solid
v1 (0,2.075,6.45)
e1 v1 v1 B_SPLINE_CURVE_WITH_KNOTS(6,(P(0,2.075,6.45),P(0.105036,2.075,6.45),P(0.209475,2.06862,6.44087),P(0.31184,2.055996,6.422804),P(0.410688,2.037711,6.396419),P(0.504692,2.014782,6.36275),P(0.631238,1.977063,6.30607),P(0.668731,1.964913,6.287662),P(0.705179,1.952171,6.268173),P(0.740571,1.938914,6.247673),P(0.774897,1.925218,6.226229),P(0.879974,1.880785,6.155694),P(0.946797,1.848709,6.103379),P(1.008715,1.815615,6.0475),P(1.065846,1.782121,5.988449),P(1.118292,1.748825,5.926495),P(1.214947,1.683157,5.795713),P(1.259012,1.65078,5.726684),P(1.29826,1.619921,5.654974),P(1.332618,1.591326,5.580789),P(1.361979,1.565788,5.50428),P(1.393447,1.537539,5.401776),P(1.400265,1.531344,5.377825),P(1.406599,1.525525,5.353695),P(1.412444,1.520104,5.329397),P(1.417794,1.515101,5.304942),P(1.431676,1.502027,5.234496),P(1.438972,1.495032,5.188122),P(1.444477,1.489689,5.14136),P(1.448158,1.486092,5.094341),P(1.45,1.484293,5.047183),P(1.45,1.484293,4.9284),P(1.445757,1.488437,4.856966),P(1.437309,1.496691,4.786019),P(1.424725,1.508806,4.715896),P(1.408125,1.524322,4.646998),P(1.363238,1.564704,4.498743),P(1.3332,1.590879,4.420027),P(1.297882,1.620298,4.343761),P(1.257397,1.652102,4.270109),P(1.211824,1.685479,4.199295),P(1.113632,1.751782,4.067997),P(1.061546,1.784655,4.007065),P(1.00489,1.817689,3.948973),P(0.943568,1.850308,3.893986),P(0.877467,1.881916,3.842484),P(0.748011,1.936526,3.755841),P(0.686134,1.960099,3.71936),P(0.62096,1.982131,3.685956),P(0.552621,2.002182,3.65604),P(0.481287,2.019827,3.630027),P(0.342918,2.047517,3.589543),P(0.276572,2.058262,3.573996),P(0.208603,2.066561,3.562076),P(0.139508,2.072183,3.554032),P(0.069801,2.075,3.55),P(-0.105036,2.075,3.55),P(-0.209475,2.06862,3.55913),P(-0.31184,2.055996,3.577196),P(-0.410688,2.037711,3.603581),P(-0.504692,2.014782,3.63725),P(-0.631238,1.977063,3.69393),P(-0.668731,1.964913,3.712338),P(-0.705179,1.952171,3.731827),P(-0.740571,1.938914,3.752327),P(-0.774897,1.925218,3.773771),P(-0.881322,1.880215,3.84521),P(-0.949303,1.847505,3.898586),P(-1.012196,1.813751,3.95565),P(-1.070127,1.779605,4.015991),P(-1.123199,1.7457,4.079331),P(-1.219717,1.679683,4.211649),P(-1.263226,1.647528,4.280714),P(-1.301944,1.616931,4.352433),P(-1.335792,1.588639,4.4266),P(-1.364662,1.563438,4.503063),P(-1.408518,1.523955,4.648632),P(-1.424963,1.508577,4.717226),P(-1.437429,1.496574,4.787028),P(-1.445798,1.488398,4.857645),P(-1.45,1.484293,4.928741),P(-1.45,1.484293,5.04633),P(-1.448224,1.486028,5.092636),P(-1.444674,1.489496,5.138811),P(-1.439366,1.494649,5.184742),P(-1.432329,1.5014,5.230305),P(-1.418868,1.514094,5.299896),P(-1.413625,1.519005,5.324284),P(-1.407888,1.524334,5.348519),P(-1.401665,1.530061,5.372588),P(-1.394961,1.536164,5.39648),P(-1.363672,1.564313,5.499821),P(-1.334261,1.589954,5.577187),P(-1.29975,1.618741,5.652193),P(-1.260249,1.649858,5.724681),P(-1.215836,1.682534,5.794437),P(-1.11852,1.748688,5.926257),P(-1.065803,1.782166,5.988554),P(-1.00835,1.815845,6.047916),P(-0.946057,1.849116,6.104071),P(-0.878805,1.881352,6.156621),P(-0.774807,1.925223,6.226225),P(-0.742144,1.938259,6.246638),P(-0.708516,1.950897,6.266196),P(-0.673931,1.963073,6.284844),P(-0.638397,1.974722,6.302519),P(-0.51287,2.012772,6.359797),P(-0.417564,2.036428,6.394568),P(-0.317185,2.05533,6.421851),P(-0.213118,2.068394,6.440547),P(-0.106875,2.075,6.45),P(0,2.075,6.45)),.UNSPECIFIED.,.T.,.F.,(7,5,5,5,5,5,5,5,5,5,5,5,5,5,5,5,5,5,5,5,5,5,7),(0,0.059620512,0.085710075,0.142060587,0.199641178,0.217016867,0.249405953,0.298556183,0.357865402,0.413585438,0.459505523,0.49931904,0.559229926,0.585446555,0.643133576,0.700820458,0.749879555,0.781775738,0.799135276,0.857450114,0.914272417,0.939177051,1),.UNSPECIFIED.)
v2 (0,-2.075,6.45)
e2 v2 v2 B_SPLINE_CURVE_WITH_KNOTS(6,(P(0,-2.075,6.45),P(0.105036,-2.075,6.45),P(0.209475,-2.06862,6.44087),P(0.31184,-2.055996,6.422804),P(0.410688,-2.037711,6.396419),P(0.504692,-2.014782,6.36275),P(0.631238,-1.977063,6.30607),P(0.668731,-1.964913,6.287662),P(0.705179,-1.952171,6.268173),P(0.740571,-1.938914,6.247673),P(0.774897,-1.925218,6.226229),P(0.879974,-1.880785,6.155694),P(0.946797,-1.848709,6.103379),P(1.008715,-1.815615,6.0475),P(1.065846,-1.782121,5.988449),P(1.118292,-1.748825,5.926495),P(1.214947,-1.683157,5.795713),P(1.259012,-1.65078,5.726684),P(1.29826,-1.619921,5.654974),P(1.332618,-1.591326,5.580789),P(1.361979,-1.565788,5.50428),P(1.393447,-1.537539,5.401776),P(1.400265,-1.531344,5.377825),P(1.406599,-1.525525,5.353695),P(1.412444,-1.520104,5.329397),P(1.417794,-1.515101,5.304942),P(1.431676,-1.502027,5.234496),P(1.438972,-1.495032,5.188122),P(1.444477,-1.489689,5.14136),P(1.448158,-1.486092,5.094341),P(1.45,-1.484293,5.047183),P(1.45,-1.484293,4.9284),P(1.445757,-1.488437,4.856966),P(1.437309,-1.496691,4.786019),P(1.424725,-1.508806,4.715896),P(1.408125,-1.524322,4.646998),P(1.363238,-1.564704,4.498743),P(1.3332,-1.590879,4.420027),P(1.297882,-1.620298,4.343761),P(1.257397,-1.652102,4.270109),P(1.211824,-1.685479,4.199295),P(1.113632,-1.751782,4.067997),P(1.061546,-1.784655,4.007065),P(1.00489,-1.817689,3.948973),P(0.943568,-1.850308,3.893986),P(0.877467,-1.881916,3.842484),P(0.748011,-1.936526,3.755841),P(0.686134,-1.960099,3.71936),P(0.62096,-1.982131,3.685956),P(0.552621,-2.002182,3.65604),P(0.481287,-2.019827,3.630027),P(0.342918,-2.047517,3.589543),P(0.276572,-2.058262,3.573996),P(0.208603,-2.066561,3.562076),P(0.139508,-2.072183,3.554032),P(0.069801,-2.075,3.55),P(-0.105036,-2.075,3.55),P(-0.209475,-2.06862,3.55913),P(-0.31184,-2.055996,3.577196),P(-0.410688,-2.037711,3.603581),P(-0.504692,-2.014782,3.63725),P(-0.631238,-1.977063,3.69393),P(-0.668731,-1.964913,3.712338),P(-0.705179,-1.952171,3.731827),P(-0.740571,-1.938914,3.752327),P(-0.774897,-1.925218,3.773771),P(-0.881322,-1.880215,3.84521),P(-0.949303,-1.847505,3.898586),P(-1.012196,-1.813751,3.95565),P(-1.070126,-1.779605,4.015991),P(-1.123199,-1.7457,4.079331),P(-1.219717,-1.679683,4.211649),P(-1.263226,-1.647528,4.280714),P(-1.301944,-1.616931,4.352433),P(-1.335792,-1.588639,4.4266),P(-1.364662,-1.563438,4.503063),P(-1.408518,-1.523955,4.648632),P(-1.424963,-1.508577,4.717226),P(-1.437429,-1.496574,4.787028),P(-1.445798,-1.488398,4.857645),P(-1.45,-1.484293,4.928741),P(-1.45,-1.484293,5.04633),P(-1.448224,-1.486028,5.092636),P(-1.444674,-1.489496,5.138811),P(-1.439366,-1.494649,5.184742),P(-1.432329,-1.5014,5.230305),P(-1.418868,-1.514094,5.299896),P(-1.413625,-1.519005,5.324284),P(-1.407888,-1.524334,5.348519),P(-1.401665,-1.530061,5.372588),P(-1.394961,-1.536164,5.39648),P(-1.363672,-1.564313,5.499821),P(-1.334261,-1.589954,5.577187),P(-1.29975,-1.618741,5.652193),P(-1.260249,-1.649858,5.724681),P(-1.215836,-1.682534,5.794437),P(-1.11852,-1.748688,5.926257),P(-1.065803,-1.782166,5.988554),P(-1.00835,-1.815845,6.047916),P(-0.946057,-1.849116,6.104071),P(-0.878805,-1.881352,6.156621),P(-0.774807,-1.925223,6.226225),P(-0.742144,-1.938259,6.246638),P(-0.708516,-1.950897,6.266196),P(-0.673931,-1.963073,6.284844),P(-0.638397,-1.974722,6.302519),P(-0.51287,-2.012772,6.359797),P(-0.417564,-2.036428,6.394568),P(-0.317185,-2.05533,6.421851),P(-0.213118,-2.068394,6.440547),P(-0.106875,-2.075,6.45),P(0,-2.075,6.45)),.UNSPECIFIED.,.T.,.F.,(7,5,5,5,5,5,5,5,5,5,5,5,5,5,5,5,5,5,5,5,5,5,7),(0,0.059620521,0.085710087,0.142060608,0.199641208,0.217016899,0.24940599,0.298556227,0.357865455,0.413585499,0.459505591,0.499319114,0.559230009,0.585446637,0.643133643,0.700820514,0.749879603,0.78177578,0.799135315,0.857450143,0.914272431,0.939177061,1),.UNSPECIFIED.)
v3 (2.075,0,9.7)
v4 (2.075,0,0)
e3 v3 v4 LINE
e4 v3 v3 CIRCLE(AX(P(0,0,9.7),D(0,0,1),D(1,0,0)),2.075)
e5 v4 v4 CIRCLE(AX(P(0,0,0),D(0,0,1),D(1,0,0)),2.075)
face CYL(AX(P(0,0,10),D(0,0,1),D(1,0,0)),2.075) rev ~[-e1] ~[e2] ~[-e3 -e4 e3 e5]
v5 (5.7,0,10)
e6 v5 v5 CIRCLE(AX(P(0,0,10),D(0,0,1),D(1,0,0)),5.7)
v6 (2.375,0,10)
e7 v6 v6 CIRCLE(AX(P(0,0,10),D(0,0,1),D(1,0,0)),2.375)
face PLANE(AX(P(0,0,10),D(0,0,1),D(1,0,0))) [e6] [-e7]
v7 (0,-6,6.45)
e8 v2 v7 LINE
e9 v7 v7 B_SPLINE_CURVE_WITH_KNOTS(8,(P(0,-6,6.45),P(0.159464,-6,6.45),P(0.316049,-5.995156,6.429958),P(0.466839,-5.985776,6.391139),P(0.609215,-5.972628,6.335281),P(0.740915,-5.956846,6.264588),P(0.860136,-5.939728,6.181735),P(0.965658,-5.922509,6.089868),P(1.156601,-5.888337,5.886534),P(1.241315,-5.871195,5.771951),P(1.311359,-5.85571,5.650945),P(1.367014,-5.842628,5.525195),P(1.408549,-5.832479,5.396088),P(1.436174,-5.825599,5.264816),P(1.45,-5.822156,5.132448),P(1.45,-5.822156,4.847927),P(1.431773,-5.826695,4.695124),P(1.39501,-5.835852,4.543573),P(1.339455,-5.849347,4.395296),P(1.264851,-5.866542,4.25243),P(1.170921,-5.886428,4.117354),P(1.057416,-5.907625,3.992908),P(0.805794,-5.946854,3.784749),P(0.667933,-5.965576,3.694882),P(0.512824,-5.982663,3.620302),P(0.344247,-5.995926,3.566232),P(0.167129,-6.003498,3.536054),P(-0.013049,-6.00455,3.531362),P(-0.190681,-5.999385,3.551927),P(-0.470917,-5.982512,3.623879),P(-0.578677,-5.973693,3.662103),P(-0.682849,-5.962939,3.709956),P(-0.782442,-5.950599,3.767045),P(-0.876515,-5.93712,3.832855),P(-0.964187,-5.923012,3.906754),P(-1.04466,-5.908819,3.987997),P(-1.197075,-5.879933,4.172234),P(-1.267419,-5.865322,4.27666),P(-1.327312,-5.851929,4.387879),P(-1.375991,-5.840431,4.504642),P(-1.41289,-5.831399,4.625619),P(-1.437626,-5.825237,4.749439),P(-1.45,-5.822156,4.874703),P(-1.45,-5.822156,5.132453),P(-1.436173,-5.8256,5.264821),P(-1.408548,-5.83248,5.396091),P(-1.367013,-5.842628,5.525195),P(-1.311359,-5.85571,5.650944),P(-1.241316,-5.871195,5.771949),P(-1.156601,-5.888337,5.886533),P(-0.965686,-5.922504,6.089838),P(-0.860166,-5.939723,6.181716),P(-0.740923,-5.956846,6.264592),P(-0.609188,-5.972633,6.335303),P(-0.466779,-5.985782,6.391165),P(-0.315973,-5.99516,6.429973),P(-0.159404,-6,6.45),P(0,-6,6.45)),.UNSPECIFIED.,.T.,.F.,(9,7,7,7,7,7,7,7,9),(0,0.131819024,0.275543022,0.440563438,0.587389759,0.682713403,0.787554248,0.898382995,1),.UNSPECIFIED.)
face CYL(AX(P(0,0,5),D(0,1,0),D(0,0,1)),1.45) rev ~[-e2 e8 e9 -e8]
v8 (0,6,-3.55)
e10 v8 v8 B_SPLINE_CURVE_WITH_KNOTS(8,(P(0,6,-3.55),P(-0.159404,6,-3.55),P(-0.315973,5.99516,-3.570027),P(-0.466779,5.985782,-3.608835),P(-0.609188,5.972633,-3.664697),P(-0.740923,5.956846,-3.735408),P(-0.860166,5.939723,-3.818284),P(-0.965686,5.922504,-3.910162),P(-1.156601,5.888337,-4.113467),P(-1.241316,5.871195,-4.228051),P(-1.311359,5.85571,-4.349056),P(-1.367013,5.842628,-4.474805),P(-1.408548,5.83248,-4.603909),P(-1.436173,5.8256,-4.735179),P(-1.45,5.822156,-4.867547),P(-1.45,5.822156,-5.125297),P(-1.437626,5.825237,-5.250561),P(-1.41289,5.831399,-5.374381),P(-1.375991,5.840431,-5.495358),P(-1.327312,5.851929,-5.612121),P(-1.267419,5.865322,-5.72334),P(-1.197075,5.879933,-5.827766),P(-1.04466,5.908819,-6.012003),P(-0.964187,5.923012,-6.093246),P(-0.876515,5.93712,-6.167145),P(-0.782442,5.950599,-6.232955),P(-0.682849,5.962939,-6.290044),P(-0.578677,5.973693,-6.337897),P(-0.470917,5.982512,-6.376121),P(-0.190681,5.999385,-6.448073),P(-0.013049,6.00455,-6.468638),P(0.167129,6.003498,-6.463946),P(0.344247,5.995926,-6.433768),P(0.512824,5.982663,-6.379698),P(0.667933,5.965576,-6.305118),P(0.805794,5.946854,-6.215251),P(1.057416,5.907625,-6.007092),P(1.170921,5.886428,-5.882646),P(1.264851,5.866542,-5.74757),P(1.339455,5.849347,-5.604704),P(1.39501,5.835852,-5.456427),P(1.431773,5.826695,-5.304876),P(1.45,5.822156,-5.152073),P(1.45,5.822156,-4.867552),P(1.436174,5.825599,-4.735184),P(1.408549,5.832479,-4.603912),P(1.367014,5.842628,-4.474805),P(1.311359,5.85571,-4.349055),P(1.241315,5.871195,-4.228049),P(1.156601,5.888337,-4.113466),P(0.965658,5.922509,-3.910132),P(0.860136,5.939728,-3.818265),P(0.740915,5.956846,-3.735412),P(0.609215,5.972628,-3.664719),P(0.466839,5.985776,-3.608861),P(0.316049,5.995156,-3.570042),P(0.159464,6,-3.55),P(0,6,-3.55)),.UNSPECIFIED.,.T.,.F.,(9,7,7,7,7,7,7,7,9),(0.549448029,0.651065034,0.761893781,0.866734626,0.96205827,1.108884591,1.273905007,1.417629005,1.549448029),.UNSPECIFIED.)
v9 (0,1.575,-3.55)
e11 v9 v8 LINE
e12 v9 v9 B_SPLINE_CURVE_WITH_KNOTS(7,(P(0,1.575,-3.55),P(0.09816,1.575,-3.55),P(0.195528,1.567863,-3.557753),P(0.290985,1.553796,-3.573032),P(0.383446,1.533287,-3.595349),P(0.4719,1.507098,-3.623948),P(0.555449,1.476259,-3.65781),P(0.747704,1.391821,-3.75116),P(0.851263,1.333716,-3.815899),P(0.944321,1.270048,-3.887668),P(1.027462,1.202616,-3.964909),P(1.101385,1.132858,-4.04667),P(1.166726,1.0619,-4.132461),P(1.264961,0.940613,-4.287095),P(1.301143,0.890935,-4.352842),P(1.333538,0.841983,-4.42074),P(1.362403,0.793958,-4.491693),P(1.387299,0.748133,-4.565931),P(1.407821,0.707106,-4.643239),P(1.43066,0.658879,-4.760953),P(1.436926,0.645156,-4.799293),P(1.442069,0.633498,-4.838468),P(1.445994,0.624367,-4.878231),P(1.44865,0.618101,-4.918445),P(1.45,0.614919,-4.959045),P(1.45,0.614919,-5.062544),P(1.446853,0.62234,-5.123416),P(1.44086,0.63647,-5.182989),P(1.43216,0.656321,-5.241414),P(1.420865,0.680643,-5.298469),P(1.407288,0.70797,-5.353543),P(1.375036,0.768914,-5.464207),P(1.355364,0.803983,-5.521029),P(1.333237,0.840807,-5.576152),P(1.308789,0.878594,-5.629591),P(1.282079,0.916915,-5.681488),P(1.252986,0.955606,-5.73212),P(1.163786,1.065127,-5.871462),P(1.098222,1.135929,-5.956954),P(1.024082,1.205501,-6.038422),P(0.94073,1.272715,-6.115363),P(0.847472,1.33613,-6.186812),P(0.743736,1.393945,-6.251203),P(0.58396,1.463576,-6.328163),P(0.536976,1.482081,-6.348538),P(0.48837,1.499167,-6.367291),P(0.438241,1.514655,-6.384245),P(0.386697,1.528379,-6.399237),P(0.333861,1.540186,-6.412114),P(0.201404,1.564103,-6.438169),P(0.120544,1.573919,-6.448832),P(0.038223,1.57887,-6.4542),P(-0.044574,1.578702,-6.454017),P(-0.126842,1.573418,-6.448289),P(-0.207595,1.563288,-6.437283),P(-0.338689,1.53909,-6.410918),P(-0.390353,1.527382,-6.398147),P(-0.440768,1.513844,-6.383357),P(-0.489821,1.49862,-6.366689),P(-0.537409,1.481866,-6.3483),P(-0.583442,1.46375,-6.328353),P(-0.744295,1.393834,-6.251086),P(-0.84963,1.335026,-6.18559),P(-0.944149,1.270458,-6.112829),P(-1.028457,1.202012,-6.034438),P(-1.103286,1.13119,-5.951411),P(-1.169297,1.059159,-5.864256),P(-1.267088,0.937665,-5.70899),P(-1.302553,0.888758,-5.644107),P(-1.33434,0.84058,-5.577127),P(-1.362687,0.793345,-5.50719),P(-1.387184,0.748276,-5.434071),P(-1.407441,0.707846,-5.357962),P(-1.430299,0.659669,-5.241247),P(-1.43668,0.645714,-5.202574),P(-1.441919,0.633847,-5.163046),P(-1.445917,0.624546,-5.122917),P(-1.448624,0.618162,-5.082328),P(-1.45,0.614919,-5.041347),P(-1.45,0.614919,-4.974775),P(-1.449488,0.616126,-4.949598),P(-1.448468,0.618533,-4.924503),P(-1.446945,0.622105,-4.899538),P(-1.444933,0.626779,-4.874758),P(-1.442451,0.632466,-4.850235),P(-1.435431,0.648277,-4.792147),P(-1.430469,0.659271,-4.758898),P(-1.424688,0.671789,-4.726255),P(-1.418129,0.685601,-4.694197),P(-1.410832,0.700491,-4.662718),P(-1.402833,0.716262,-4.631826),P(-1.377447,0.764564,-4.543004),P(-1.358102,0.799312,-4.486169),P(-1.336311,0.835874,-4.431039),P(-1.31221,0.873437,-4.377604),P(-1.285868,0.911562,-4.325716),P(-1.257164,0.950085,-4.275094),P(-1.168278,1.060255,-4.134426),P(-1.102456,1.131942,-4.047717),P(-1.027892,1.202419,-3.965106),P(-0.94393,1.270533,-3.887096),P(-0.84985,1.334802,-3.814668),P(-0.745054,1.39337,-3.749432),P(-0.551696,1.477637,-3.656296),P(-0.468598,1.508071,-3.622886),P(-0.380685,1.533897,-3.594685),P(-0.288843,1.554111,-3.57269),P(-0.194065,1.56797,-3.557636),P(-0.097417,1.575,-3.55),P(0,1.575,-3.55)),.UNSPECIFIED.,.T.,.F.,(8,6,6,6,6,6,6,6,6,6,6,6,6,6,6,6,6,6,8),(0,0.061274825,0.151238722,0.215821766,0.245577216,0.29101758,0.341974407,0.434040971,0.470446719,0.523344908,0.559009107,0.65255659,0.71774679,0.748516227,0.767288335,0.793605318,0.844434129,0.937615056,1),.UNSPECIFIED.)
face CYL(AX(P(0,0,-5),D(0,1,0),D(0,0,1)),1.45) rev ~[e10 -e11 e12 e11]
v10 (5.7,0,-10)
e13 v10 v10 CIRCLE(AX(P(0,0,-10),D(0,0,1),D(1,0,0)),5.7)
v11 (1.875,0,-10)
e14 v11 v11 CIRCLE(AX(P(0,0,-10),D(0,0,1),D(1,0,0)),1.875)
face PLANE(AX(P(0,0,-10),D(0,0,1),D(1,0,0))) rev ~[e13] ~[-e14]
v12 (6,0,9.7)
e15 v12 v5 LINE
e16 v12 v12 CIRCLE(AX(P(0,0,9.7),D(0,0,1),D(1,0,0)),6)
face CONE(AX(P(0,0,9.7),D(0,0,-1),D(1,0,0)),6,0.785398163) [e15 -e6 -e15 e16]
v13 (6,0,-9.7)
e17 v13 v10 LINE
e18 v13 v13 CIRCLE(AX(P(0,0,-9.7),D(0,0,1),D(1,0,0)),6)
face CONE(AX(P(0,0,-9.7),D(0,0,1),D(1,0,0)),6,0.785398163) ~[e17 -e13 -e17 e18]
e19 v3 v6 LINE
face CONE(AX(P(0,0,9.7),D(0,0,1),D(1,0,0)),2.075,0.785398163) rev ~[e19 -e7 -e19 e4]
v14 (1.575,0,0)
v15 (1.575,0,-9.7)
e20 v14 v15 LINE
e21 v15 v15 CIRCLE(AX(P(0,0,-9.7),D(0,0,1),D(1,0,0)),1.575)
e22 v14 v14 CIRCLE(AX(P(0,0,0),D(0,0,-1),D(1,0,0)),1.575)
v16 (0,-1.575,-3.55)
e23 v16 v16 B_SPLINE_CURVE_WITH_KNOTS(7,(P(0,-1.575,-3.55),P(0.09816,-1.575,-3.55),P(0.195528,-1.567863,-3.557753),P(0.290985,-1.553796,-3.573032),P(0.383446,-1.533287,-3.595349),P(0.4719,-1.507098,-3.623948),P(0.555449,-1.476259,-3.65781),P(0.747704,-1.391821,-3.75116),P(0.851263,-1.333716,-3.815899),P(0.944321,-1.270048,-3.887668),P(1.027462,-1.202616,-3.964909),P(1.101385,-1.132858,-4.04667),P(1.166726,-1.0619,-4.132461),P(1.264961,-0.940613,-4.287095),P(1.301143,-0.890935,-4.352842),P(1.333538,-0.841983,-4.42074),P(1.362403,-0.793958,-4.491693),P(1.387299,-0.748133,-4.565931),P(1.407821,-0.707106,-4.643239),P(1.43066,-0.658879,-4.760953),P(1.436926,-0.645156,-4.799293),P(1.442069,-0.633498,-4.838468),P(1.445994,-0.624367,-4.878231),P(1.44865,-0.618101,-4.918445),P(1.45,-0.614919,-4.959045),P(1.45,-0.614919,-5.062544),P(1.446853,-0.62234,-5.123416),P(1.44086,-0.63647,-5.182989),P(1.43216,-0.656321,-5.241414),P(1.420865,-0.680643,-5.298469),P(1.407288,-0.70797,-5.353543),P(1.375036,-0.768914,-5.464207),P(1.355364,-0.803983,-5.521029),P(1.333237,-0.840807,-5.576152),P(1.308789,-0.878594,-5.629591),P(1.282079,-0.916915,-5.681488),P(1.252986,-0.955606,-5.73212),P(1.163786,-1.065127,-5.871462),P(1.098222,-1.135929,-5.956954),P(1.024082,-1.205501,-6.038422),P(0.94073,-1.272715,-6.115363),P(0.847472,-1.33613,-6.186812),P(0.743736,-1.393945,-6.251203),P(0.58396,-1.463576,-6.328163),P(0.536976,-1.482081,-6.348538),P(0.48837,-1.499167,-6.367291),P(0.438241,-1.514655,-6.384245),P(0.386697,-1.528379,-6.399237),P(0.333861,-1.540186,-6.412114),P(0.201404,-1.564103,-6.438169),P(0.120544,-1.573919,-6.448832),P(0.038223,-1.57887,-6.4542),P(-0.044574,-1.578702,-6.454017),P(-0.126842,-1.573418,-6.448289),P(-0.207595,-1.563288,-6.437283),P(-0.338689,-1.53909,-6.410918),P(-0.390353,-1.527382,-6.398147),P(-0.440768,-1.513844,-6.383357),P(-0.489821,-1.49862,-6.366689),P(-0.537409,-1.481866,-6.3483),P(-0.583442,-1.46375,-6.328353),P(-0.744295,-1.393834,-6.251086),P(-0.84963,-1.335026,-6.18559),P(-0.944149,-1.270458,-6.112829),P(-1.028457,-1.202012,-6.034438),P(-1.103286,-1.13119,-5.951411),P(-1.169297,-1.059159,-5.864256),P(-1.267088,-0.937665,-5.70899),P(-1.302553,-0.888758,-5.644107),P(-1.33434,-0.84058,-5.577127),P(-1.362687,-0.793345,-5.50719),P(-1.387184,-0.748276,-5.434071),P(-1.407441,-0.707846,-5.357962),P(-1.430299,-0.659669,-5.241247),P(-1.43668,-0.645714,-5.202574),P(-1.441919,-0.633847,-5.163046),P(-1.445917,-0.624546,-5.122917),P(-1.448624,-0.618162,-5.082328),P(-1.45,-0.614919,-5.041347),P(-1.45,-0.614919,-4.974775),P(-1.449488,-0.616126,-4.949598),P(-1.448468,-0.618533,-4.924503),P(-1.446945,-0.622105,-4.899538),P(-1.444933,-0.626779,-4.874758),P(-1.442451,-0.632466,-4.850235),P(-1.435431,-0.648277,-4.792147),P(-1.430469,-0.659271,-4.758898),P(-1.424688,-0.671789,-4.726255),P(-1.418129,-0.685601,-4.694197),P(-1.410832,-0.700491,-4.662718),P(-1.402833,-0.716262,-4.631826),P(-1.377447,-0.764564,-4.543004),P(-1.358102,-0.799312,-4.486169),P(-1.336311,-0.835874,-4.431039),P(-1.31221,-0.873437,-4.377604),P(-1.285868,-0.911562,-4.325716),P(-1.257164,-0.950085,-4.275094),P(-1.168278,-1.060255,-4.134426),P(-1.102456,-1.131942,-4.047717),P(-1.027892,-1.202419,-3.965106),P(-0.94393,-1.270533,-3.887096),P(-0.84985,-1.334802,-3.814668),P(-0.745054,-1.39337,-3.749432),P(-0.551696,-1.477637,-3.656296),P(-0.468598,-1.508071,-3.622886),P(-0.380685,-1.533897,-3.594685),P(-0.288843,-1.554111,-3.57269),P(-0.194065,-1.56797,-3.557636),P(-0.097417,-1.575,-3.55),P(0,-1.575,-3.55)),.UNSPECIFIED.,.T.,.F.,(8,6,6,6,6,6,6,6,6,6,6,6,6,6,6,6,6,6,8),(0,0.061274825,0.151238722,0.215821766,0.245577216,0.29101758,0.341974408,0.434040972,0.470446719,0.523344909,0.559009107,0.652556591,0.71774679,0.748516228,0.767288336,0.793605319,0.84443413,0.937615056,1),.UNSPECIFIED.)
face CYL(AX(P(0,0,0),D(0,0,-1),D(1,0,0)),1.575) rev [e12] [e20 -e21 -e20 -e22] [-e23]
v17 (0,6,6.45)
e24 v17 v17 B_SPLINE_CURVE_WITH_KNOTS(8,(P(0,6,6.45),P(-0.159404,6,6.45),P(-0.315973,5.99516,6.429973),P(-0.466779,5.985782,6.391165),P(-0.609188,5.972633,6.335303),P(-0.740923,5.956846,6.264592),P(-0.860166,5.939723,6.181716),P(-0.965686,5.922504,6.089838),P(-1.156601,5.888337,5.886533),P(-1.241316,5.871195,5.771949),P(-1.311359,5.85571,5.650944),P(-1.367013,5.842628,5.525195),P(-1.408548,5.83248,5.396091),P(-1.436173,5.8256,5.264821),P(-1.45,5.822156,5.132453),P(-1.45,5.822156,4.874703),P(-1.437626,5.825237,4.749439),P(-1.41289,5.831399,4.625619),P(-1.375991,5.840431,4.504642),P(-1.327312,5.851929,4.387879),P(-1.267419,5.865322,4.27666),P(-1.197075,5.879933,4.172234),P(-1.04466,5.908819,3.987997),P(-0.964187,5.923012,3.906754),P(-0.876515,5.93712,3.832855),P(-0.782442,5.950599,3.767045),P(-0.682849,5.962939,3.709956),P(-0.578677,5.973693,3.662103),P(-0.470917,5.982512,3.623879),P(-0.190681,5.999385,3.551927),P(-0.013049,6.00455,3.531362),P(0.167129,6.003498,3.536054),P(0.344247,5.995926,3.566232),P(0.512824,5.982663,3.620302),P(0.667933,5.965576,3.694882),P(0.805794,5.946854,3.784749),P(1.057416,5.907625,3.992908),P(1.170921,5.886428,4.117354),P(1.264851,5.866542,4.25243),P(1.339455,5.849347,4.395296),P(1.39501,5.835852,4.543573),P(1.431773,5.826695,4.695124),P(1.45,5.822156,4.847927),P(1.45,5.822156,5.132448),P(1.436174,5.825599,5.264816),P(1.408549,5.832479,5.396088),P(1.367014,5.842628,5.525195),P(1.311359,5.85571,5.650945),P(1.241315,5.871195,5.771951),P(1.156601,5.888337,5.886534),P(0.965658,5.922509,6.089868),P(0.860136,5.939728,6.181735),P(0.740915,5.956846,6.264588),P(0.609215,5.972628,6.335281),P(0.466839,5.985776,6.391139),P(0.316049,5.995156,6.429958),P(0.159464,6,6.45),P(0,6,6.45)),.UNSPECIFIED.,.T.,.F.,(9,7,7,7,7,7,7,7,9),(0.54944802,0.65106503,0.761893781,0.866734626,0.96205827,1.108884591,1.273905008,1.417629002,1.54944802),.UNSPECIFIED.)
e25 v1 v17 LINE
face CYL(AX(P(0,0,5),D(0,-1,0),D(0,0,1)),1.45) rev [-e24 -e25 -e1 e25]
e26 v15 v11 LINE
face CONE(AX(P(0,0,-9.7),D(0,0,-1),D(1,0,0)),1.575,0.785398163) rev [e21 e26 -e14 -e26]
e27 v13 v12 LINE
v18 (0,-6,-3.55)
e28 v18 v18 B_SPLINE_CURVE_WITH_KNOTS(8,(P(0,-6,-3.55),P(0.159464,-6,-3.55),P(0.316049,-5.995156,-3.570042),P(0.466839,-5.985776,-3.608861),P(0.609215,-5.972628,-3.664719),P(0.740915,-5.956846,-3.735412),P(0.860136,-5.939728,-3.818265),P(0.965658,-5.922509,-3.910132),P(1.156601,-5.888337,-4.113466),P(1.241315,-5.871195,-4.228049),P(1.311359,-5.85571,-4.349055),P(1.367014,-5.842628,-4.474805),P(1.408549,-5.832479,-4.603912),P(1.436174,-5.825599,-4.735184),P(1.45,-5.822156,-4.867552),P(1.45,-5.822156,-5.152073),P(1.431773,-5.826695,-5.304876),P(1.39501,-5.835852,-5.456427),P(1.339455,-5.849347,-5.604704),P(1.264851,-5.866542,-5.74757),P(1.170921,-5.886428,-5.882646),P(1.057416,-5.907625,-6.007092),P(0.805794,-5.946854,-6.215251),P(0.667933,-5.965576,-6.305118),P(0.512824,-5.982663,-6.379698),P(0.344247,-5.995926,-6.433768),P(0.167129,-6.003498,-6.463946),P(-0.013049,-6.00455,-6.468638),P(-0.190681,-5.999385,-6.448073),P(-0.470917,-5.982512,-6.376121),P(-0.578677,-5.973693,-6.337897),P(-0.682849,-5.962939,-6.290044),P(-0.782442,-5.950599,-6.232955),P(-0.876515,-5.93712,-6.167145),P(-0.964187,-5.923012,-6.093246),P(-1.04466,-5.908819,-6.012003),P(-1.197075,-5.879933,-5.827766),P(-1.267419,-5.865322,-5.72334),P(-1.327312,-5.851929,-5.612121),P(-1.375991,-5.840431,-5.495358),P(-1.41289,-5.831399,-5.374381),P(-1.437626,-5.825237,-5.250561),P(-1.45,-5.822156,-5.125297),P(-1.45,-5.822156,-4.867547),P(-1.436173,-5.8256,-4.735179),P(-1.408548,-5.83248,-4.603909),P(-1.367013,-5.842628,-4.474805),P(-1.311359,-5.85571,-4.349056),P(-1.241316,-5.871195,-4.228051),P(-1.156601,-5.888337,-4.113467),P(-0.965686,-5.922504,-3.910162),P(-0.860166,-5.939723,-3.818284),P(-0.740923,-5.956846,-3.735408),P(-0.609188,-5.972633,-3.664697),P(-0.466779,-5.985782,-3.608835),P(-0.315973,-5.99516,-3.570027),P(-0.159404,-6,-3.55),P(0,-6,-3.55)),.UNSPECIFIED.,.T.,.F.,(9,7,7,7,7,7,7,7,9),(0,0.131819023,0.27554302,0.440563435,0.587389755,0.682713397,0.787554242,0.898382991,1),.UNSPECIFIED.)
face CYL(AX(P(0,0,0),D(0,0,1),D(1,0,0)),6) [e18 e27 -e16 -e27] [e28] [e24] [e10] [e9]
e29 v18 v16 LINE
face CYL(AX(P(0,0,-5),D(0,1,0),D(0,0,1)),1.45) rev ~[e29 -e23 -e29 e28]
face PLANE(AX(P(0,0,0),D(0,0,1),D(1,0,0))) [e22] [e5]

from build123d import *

# Parameters (mm, degrees)
ESQUISSE1_R             = 6
ESQUISSE1_R_2           = 1.575
BOSS_EXTRU_1_DEPTH      = 10
ESQUISSE2_R             = 2.075
ENL_V_MAT_EXTRU_1_DEPTH = 10
ESQUISSE3_R             = 1.45
ENL_V_MAT_EXTRU_2_DEPTH = 6
CHANFREIN1_SIZE         = 0.3


with BuildPart() as part:
    # Esquisse1 → Boss.-Extru.1 (new body, symmetric)
    with BuildSketch(Plane.XY):
        Circle(ESQUISSE1_R)
        Circle(ESQUISSE1_R_2, mode=Mode.SUBTRACT)
    extrude(amount=BOSS_EXTRU_1_DEPTH, both=True)

    # Esquisse2 → Enlèv. mat.-Extru.1 (cut)
    with BuildSketch(Plane.XY.offset(10)):
        Circle(ESQUISSE2_R)
    extrude(amount=-ENL_V_MAT_EXTRU_1_DEPTH, mode=Mode.SUBTRACT)

    # Esquisse3 → Enlèv. mat.-Extru.2 (cut, symmetric)
    with BuildSketch(Plane(origin=(0, 0, 0), x_dir=(-1, 0, 0), z_dir=(0, 1, 0))):
        with Locations(Location((0, 5, 0), (0, 0, 90))):  # turned: the seam where the file's is
            Circle(ESQUISSE3_R)
        with Locations(Location((0, -5, 0), (0, 0, 90))):  # turned: the seam where the file's is
            Circle(ESQUISSE3_R)
    extrude(amount=ENL_V_MAT_EXTRU_2_DEPTH, both=True, mode=Mode.SUBTRACT)

    # Chanfrein1
    chanfrein1_edges = [part.edges().sort_by_distance(p)[0] for p in [
        (-2.075, 0, 10),
        (-6, 0, -10),
        (-6, 0, 10),
        (-1.575, 0, -10),
    ]]
    chamfer(chanfrein1_edges, length=CHANFREIN1_SIZE)


solid = part.part
